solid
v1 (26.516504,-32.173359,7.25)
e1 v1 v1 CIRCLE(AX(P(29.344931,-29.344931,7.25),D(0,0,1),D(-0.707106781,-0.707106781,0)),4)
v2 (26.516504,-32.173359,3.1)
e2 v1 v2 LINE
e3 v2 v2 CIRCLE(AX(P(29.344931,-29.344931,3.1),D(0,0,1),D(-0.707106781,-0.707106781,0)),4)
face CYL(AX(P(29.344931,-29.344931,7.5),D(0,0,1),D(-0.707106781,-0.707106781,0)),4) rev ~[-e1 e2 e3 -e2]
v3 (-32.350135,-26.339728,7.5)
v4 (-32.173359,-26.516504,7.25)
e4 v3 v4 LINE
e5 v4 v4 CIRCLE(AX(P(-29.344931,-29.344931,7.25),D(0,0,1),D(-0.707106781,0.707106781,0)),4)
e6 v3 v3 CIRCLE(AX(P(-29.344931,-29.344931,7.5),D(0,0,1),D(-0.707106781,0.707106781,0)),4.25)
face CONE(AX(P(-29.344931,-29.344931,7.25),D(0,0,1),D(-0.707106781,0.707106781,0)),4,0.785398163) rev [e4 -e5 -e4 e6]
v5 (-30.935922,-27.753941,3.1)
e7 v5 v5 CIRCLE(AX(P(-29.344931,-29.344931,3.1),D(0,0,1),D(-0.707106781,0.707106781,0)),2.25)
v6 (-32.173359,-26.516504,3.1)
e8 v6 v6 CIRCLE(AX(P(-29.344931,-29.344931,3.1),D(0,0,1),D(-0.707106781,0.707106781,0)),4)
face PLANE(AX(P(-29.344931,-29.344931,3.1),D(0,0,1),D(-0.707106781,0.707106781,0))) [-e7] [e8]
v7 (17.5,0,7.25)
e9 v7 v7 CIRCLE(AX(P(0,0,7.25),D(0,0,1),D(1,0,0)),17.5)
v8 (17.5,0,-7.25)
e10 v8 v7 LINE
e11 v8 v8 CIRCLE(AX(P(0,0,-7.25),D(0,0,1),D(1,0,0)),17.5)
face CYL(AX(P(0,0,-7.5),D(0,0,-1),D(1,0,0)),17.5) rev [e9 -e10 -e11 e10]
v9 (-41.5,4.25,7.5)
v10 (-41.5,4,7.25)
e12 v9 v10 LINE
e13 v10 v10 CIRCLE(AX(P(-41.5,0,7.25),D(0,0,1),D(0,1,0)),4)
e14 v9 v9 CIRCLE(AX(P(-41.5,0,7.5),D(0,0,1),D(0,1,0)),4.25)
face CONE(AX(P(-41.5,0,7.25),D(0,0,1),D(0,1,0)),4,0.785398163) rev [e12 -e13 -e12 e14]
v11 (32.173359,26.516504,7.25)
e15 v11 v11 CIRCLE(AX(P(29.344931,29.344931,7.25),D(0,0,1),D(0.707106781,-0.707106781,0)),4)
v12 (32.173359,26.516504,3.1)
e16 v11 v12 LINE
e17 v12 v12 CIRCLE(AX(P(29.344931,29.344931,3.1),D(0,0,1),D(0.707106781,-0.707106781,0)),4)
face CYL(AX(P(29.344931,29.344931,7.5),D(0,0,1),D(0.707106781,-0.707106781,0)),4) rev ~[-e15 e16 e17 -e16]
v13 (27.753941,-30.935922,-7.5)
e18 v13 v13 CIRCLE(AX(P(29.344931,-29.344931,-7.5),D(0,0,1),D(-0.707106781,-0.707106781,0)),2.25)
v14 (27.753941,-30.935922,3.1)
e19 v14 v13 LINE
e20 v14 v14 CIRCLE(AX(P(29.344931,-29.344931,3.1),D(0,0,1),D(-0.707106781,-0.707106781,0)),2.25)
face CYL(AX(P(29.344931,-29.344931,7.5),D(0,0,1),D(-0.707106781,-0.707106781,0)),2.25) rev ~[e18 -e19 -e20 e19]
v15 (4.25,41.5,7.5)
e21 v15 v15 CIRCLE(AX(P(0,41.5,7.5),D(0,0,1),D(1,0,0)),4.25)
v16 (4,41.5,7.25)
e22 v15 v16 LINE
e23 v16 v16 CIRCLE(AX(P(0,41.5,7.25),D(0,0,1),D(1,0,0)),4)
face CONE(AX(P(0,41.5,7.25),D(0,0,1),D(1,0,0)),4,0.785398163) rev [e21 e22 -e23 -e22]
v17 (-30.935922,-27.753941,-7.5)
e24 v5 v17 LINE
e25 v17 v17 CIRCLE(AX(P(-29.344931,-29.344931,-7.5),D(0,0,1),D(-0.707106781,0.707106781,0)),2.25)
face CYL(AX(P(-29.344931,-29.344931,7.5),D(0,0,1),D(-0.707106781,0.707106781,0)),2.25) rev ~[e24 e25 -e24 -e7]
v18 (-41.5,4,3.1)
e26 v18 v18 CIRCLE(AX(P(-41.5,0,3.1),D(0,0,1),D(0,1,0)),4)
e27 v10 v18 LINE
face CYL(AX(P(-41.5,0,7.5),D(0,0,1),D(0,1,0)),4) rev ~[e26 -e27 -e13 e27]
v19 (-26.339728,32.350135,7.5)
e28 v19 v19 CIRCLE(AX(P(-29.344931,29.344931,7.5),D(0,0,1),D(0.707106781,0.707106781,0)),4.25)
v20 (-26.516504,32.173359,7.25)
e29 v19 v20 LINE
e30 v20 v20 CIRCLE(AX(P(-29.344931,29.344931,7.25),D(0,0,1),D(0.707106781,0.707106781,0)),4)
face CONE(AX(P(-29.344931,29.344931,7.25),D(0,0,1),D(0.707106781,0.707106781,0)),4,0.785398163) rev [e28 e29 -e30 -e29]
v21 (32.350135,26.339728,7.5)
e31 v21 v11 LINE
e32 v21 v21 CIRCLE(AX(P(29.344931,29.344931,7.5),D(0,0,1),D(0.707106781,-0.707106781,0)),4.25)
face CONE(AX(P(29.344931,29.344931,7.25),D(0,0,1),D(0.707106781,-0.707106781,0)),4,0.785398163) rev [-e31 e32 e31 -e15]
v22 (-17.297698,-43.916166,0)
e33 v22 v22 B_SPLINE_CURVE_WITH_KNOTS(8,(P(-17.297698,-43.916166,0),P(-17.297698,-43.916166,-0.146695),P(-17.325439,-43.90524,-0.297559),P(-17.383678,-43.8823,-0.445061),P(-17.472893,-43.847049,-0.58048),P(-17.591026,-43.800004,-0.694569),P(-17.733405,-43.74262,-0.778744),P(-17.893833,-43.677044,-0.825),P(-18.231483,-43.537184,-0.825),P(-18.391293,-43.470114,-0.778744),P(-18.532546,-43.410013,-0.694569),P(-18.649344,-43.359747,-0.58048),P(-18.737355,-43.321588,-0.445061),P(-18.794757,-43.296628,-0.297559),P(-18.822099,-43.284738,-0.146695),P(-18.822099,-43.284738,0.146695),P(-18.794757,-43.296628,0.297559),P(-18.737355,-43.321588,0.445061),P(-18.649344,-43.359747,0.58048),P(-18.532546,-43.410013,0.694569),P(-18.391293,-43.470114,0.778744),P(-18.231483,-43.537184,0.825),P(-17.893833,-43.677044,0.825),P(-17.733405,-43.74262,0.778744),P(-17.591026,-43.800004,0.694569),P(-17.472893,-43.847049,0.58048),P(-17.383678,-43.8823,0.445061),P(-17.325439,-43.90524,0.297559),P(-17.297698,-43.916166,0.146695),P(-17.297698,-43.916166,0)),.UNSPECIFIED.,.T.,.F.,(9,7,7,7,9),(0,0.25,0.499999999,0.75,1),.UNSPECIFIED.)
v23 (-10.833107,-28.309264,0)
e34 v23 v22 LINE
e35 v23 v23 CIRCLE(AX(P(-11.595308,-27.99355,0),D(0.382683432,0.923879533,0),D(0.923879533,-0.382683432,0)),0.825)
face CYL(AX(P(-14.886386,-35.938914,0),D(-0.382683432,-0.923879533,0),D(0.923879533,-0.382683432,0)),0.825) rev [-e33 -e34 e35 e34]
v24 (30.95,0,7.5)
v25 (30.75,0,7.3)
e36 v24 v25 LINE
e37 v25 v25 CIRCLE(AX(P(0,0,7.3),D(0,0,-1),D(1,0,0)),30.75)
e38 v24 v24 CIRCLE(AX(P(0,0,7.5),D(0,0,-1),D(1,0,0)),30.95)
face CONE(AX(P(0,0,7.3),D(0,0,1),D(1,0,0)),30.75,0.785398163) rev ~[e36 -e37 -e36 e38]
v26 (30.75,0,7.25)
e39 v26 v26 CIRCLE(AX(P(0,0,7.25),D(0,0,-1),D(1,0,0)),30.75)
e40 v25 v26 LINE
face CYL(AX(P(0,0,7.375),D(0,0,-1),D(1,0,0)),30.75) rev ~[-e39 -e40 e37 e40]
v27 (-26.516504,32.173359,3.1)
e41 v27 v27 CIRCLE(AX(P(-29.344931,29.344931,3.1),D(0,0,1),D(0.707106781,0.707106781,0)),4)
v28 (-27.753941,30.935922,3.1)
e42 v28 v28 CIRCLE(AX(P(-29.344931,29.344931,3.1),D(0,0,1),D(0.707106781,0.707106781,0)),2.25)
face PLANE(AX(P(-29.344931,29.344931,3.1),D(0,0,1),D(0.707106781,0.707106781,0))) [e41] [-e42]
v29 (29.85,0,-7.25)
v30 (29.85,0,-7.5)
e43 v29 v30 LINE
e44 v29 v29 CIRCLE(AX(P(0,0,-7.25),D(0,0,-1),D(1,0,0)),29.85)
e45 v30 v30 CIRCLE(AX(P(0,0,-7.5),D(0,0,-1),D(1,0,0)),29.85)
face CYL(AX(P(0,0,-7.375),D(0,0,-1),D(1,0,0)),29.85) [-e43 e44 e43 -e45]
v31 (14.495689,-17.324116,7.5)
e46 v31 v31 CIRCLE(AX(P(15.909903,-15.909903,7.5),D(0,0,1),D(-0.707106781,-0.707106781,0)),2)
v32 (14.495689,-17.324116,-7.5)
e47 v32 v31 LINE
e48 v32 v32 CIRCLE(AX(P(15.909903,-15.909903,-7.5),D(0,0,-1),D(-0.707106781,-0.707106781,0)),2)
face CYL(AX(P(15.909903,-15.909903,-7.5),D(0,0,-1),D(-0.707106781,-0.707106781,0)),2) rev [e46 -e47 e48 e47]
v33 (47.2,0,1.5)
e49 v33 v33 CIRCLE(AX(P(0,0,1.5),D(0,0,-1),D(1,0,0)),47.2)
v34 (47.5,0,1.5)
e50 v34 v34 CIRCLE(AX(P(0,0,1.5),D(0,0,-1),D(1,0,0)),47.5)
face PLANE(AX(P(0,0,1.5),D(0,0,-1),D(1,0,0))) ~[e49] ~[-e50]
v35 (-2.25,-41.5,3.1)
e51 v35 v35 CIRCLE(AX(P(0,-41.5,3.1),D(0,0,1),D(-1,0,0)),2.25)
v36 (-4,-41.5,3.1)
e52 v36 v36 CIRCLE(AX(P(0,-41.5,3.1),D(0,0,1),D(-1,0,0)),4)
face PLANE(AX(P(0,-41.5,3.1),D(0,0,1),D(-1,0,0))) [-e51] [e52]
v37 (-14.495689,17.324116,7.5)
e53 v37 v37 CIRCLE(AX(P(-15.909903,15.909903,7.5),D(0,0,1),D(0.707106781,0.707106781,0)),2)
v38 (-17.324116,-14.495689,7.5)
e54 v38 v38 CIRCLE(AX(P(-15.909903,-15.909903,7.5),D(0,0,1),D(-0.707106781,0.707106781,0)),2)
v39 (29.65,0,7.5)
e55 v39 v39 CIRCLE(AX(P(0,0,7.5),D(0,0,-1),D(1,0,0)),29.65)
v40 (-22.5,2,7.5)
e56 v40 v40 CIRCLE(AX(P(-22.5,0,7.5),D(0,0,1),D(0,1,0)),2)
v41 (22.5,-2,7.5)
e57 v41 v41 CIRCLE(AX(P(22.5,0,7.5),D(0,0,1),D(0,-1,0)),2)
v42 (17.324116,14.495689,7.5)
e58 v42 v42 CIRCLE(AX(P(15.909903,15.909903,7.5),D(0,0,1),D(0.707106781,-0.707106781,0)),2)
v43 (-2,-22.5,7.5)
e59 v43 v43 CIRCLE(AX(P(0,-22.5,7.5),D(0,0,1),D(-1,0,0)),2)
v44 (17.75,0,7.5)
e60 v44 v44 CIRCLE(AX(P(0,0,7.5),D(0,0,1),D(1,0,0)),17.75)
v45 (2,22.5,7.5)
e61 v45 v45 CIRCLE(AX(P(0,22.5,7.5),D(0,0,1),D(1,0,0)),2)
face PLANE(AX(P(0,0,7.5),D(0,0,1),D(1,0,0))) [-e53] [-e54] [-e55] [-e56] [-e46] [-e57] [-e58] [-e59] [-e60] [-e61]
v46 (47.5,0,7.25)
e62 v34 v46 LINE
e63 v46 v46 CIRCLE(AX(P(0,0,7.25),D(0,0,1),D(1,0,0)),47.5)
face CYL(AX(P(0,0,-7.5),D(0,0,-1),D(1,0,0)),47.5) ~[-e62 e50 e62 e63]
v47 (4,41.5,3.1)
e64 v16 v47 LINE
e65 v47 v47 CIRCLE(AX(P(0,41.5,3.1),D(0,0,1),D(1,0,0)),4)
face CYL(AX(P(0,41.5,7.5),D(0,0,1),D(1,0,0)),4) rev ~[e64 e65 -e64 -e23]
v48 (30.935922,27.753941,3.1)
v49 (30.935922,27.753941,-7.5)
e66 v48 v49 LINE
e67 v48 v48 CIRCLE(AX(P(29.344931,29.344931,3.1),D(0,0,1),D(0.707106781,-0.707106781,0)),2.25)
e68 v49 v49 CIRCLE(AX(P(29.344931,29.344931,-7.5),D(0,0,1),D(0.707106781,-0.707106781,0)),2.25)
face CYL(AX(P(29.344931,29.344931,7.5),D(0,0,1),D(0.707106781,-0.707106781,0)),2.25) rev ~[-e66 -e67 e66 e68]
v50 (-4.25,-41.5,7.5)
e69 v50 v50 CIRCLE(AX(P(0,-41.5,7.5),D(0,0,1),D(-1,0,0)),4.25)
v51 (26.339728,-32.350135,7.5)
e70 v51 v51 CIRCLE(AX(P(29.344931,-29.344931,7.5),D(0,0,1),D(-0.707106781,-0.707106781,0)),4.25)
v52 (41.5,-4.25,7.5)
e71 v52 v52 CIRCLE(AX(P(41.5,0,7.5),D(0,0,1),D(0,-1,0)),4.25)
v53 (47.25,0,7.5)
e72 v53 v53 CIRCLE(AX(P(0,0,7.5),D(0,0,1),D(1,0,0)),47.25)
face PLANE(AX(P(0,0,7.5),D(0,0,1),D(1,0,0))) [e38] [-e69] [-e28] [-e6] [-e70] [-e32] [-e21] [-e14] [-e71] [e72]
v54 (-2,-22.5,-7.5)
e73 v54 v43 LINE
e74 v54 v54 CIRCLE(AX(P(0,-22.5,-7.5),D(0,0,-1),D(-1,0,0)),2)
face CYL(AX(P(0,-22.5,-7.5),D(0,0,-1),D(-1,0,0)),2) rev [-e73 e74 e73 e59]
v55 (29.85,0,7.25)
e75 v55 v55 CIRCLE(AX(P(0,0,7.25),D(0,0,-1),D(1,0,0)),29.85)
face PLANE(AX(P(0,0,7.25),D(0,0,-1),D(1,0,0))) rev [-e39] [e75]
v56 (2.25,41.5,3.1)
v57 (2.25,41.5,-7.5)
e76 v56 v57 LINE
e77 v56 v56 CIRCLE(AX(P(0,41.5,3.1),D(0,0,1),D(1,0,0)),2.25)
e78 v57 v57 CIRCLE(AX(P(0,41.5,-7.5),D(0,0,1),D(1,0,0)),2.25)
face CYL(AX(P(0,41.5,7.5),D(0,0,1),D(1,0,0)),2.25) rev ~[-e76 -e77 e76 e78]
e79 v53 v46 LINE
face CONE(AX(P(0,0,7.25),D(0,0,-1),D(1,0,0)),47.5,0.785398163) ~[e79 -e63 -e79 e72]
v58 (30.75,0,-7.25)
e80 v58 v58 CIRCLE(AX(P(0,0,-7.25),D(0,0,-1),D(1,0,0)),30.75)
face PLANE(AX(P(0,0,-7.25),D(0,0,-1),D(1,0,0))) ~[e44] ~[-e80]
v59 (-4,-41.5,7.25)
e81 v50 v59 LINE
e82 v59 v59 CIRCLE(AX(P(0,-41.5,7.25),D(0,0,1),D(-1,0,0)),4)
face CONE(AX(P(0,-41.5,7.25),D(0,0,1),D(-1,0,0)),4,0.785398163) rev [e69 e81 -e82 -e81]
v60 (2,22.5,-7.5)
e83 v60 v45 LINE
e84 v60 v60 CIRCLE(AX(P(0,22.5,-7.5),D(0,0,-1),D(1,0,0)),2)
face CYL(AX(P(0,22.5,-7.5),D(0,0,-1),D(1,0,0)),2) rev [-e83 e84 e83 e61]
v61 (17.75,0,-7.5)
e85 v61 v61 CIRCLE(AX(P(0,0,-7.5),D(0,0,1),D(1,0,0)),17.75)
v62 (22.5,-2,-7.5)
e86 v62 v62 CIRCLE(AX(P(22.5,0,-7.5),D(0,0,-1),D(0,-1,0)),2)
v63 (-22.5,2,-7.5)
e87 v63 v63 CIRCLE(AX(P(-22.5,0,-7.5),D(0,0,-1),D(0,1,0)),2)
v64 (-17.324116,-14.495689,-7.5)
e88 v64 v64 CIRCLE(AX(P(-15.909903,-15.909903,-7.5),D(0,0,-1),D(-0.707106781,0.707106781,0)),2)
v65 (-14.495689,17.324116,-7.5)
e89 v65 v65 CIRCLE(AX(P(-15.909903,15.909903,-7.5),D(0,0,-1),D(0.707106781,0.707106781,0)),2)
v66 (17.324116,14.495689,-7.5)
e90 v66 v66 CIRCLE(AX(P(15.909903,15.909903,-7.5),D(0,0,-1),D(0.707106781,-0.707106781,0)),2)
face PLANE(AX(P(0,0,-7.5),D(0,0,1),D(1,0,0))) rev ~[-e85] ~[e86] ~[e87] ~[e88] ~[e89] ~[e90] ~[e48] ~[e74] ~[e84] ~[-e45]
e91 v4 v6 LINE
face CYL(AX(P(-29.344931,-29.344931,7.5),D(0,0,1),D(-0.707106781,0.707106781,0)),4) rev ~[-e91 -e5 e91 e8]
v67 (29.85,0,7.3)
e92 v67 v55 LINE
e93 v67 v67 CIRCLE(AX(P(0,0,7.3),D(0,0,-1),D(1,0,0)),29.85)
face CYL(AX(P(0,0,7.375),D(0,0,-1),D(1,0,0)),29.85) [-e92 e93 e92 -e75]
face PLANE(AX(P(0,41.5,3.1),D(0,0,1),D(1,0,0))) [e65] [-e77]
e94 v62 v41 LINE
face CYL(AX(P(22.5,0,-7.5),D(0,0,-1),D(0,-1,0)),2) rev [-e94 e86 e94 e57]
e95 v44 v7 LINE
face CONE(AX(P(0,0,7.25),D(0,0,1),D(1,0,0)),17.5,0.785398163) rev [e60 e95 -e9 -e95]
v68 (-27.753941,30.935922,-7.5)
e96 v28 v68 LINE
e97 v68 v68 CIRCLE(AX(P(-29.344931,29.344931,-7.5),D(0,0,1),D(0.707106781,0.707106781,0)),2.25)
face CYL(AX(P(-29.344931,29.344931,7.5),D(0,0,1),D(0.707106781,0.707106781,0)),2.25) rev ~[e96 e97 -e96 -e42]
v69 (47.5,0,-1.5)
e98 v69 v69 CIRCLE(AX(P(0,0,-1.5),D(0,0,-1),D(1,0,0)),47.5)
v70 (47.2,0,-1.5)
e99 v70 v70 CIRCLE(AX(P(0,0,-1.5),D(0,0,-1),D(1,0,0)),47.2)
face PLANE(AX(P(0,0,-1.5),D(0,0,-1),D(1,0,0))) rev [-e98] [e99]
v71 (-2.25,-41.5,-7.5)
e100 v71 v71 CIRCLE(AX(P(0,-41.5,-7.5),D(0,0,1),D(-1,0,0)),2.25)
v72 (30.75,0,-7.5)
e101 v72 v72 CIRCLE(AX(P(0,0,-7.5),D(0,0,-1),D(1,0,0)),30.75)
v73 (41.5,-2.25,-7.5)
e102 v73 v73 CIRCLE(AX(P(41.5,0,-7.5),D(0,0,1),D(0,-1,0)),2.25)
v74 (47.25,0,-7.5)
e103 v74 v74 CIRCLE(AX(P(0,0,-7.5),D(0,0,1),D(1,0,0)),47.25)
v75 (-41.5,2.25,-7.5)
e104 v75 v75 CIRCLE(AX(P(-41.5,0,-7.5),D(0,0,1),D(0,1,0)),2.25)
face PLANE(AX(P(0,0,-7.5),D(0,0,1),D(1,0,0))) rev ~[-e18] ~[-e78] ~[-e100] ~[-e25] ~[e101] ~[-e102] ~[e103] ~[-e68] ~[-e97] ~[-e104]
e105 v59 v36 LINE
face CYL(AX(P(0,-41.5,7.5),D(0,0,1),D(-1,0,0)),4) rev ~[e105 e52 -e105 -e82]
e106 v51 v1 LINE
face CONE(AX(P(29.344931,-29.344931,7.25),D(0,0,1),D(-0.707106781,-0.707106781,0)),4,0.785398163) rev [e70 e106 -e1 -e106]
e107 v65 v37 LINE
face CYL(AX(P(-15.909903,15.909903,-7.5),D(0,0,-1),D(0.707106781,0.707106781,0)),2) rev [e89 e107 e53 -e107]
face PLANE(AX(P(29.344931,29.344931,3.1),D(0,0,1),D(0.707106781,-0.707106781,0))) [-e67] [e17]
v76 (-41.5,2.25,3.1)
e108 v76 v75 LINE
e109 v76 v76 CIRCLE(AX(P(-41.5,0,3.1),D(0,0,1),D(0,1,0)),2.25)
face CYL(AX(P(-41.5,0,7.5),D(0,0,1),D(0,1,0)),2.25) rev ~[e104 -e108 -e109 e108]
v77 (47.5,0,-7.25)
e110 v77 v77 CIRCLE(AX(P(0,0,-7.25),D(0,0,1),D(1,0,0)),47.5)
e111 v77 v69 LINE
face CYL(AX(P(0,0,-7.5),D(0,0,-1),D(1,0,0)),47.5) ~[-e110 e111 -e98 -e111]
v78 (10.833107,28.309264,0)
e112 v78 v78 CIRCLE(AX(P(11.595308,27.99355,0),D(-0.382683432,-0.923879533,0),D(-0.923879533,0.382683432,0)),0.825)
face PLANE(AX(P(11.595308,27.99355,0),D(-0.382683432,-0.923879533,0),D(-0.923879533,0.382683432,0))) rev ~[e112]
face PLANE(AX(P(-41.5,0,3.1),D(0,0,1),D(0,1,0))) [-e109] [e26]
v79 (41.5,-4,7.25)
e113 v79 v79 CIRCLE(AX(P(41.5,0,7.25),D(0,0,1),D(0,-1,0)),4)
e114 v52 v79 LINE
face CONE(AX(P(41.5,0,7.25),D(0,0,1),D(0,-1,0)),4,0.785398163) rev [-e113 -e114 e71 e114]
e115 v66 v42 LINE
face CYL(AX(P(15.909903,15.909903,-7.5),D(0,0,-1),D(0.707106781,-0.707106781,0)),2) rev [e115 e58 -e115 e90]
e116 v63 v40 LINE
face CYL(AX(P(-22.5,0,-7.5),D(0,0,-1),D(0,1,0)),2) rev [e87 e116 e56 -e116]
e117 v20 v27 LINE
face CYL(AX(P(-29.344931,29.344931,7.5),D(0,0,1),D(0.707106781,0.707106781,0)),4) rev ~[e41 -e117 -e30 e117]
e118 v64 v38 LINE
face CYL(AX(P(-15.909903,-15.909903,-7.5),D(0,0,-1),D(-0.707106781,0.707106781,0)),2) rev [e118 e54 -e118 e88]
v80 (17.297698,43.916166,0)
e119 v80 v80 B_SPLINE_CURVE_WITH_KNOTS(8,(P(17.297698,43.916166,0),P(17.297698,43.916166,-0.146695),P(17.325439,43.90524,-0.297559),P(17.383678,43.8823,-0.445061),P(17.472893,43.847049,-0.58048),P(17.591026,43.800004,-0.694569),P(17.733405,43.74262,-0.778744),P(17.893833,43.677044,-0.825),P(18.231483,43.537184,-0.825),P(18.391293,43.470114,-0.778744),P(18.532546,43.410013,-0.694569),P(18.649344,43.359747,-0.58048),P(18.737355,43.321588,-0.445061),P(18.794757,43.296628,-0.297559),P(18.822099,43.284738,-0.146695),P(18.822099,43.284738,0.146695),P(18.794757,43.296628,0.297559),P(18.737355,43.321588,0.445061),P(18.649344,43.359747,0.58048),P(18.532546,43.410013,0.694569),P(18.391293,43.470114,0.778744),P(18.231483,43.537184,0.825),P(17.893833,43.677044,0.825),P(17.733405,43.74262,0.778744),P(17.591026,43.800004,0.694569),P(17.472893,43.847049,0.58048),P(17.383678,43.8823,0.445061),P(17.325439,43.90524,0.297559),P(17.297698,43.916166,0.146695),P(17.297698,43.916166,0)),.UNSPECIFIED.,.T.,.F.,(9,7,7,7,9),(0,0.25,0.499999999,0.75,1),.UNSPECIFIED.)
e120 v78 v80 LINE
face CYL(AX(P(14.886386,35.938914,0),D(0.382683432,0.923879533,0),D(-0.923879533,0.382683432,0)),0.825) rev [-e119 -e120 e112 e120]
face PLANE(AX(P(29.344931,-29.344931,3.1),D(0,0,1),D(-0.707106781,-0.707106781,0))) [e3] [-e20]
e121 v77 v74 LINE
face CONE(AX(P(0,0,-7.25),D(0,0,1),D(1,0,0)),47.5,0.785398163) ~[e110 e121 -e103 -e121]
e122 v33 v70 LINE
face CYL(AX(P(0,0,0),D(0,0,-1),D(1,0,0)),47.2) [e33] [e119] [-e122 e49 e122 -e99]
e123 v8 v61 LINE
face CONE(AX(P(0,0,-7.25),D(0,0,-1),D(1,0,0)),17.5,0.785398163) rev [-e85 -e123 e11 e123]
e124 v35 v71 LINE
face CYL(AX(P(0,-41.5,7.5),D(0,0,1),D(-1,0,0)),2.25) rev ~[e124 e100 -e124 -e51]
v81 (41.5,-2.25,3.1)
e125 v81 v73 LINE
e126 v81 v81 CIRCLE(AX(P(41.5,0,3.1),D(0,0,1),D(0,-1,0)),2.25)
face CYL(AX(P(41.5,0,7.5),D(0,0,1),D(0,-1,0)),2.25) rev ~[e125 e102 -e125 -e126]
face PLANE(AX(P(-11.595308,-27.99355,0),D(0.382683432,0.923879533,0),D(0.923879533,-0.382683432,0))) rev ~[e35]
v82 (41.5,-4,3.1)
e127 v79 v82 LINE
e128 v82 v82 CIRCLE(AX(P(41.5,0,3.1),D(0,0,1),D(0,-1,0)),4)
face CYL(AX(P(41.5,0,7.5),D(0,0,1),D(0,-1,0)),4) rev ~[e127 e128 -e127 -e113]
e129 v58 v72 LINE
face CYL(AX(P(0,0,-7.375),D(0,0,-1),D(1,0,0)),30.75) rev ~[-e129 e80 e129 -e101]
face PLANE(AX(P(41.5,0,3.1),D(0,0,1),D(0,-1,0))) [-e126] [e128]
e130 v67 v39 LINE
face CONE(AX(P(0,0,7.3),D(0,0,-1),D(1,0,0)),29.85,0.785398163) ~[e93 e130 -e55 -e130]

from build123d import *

# Parameters (mm, degrees)
BOSS_EXTRUDE1_DEPTH          = 7.5
BOSS_EXTRUDE1_DEPTH_BACK     = 7.5
SKETCH4_R                    = 2
CIRPATTERN1_COUNT            = 8
BOSS_EXTRUDE4_DEPTH          = 7.5
BOSS_EXTRUDE4_DEPTH_BACK     = 7.5
SKETCH9_R                    = 47.5
SKETCH9_R_2                  = 17.5
SKETCH10_R                   = 4
CUT_EXTRUDE1_DEPTH           = 4.4
SKETCH11_R                   = 2.25
CUT_EXTRUDE2_DEPTH           = 69.82949949
CHAMFER2_SIZE                = 0.25
CHAMFER1_SIZE                = 0.25
CIRPATTERN2_COUNT            = 8
CHAMFER2_OF_CIRPATTERN2_SIZE = 0.25
SKETCH12_W                   = 0.25
SKETCH12_H                   = 0.9
SKETCH12_W_2                 = 3
SKETCH12_H_2                 = 0.3
SKETCH13_W                   = 0.825
SKETCH13_H                   = 17.2
CIRPATTERN3_COUNT            = 2
CHAMFER3_SIZE                = 0.2


with BuildPart() as part:
    # Sketch4 → Boss-Extrude1 (new, two sides: drawn at the far end of the back side and taken through both)
    with BuildSketch(Plane.XY.offset(-BOSS_EXTRUDE1_DEPTH_BACK)):
        with Locations((0, 22.5)):
            Circle(SKETCH4_R)
    extrude(amount=BOSS_EXTRUDE1_DEPTH + BOSS_EXTRUDE1_DEPTH_BACK)

    # Boss-Extrude2 cone 1 section (through the dimple's axis) → Boss-Extrude2 (revolve)
    with BuildSketch(Plane(origin=(0, 22.5, 7.5), x_dir=(0, -1, 0), z_dir=(1, 0, 0))):
        Polygon((0, 0), (2, 0), (0, 2), align=None)
    revolve(axis=Axis((0, 22.5, 7.5), (0, 0, -1)))

    # Boss-Extrude3 cone 1 section (through the dimple's axis) → Boss-Extrude3 (revolve)
    with BuildSketch(Plane(origin=(0, 22.5, -7.5), x_dir=(0, 1, 0), z_dir=(1, 0, 0))):
        Polygon((0, 0), (2, 0), (0, 2), align=None)
    revolve(axis=Axis((0, 22.5, -7.5), (0, 0, 1)))


with BuildPart() as cirpattern1_1:
    # CirPattern1: pattern copy
    add(part.part.rotate(Axis((0, 0, 0), (0, 0, 1)), 1 * 360 / CIRPATTERN1_COUNT))


with BuildPart() as cirpattern1_2:
    # CirPattern1: pattern copy
    add(part.part.rotate(Axis((0, 0, 0), (0, 0, 1)), 2 * 360 / CIRPATTERN1_COUNT))


with BuildPart() as cirpattern1_3:
    # CirPattern1: pattern copy
    add(part.part.rotate(Axis((0, 0, 0), (0, 0, 1)), 3 * 360 / CIRPATTERN1_COUNT))


with BuildPart() as cirpattern1_4:
    # CirPattern1: pattern copy
    add(part.part.rotate(Axis((0, 0, 0), (0, 0, 1)), 4 * 360 / CIRPATTERN1_COUNT))


with BuildPart() as cirpattern1_5:
    # CirPattern1: pattern copy
    add(part.part.rotate(Axis((0, 0, 0), (0, 0, 1)), 5 * 360 / CIRPATTERN1_COUNT))


with BuildPart() as cirpattern1_6:
    # CirPattern1: pattern copy
    add(part.part.rotate(Axis((0, 0, 0), (0, 0, 1)), 6 * 360 / CIRPATTERN1_COUNT))


with BuildPart() as cirpattern1_7:
    # CirPattern1: pattern copy
    add(part.part.rotate(Axis((0, 0, 0), (0, 0, 1)), 7 * 360 / CIRPATTERN1_COUNT))


with BuildPart() as body_9:
    # Sketch9 → Boss-Extrude4 (new, two sides: drawn at the far end of the back side and taken through both)
    with BuildSketch(Plane.XY.offset(-BOSS_EXTRUDE4_DEPTH_BACK)):
        Circle(SKETCH9_R)
        Circle(SKETCH9_R_2, mode=Mode.SUBTRACT)
    extrude(amount=BOSS_EXTRUDE4_DEPTH + BOSS_EXTRUDE4_DEPTH_BACK)

    # Combine1: cut CirPattern1_3, CirPattern1_1, CirPattern1_2, part, CirPattern1_6, CirPattern1_5, CirPattern1_4, CirPattern1_7
    add(cirpattern1_3.part, mode=Mode.SUBTRACT)
    add(cirpattern1_1.part, mode=Mode.SUBTRACT)
    add(cirpattern1_2.part, mode=Mode.SUBTRACT)
    add(part.part, mode=Mode.SUBTRACT)
    add(cirpattern1_6.part, mode=Mode.SUBTRACT)
    add(cirpattern1_5.part, mode=Mode.SUBTRACT)
    add(cirpattern1_4.part, mode=Mode.SUBTRACT)
    add(cirpattern1_7.part, mode=Mode.SUBTRACT)

    # Sketch10 → Cut-Extrude1 (cut)
    with BuildSketch(Plane.XY.offset(7.5)):
        with Locations((0, 41.5)):
            Circle(SKETCH10_R)
    cut_extrude1 = extrude(amount=-CUT_EXTRUDE1_DEPTH, mode=Mode.SUBTRACT)

    # Sketch11 → Cut-Extrude2 (cut, through all)
    with BuildSketch(Plane.XY.offset(7.5)):
        with Locations((0, 41.5)):
            Circle(SKETCH11_R)
    cut_extrude2 = extrude(amount=-CUT_EXTRUDE2_DEPTH, mode=Mode.SUBTRACT)

    # Chamfer2
    chamfer2_edges = [body_9.edges().sort_by_distance(p)[0] for p in [
        (-4, 41.5, 7.5),
    ]]
    chamfer(chamfer2_edges, length=CHAMFER2_SIZE)

    # Chamfer1
    chamfer1_edges = [body_9.edges().sort_by_distance(p)[0] for p in [
        (-47.5, 0, -7.5),
        (-17.5, 0, -7.5),
        (-47.5, 0, 7.5),
        (-17.5, 0, 7.5),
    ]]
    chamfer(chamfer1_edges, length=CHAMFER1_SIZE)

    # CirPattern2: Cut-Extrude1, Cut-Extrude2 ×8 about axis
    cirpattern2_axis = Axis((0, 0, 0), (0, 0, 1))
    add([cut_extrude1.rotate(cirpattern2_axis, i * 360 / CIRPATTERN2_COUNT) for i in range(1, CIRPATTERN2_COUNT)], mode=Mode.SUBTRACT)
    add([cut_extrude2.rotate(cirpattern2_axis, i * 360 / CIRPATTERN2_COUNT) for i in range(1, CIRPATTERN2_COUNT)], mode=Mode.SUBTRACT)

    # Chamfer2 of CirPattern2
    chamfer2_of_cirpattern2_edges = [body_9.edges().sort_by_distance(p)[0] for p in [
        (-32.173358544, 26.516504294, 7.5),
        (-41.5, -4, 7.5),
        (-26.516504294, -32.173358544, 7.5),
        (4, -41.5, 7.5),
        (32.173358544, -26.516504294, 7.5),
        (41.5, 4, 7.5),
        (26.516504294, 32.173358544, 7.5),
    ]]
    chamfer(chamfer2_of_cirpattern2_edges, length=CHAMFER2_OF_CIRPATTERN2_SIZE)

    # Sketch12 → Cut-Revolve1 (revolve, cut)
    with BuildSketch(Plane(origin=(0, 0, 0), x_dir=(0, 0, -1), z_dir=(1, 0, 0)), mode=Mode.PRIVATE) as cut_revolve1_sk:
        with Locations((-7.375, 30.3)):
            Rectangle(SKETCH12_W, SKETCH12_H)
        with Locations((7.375, 30.3)):
            Rectangle(SKETCH12_W, SKETCH12_H)
        with Locations((0, 47.35)):
            Rectangle(SKETCH12_W_2, SKETCH12_H_2)
    revolve(cut_revolve1_sk.sketch.rotate(Axis((0, 0, 7.5), (0, 0, -1)), 90), axis=Axis((0, 0, 7.5), (0, 0, -1)), mode=Mode.SUBTRACT)

    # Sketch13 → Cut-Revolve2 (revolve, cut)
    with BuildSketch(Plane(origin=(0, 0, 0), x_dir=(0, 0, -1), z_dir=(0.9238795325112865, -0.3826834323650906, 0)), mode=Mode.PRIVATE) as cut_revolve2_sk:
        with Locations((-0.4125, 38.9)):
            Rectangle(SKETCH13_W, SKETCH13_H)
    cut_revolve2 = revolve(cut_revolve2_sk.sketch.rotate(Axis((11.854473416, 28.619230496, 0), (-0.3826834323650891, -0.9238795325112871, 0)), 90), axis=Axis((11.854473416, 28.619230496, 0), (-0.3826834323650891, -0.9238795325112871, 0)), mode=Mode.SUBTRACT)

    # CirPattern3: Cut-Revolve2 ×2 about axis
    cirpattern3_axis = Axis((0, 0, 7.5), (0, 0, -1))
    for i in range(1, CIRPATTERN3_COUNT):
        add(cut_revolve2.rotate(cirpattern3_axis, i * 360 / CIRPATTERN3_COUNT), mode=Mode.SUBTRACT)

    # Chamfer3
    chamfer3_edges = [body_9.edges().sort_by_distance(p)[0] for p in [
        (-30.75, 0, 7.5),
        (-29.85, 0, 7.5),
    ]]
    chamfer(chamfer3_edges, length=CHAMFER3_SIZE)


solid = body_9.part
